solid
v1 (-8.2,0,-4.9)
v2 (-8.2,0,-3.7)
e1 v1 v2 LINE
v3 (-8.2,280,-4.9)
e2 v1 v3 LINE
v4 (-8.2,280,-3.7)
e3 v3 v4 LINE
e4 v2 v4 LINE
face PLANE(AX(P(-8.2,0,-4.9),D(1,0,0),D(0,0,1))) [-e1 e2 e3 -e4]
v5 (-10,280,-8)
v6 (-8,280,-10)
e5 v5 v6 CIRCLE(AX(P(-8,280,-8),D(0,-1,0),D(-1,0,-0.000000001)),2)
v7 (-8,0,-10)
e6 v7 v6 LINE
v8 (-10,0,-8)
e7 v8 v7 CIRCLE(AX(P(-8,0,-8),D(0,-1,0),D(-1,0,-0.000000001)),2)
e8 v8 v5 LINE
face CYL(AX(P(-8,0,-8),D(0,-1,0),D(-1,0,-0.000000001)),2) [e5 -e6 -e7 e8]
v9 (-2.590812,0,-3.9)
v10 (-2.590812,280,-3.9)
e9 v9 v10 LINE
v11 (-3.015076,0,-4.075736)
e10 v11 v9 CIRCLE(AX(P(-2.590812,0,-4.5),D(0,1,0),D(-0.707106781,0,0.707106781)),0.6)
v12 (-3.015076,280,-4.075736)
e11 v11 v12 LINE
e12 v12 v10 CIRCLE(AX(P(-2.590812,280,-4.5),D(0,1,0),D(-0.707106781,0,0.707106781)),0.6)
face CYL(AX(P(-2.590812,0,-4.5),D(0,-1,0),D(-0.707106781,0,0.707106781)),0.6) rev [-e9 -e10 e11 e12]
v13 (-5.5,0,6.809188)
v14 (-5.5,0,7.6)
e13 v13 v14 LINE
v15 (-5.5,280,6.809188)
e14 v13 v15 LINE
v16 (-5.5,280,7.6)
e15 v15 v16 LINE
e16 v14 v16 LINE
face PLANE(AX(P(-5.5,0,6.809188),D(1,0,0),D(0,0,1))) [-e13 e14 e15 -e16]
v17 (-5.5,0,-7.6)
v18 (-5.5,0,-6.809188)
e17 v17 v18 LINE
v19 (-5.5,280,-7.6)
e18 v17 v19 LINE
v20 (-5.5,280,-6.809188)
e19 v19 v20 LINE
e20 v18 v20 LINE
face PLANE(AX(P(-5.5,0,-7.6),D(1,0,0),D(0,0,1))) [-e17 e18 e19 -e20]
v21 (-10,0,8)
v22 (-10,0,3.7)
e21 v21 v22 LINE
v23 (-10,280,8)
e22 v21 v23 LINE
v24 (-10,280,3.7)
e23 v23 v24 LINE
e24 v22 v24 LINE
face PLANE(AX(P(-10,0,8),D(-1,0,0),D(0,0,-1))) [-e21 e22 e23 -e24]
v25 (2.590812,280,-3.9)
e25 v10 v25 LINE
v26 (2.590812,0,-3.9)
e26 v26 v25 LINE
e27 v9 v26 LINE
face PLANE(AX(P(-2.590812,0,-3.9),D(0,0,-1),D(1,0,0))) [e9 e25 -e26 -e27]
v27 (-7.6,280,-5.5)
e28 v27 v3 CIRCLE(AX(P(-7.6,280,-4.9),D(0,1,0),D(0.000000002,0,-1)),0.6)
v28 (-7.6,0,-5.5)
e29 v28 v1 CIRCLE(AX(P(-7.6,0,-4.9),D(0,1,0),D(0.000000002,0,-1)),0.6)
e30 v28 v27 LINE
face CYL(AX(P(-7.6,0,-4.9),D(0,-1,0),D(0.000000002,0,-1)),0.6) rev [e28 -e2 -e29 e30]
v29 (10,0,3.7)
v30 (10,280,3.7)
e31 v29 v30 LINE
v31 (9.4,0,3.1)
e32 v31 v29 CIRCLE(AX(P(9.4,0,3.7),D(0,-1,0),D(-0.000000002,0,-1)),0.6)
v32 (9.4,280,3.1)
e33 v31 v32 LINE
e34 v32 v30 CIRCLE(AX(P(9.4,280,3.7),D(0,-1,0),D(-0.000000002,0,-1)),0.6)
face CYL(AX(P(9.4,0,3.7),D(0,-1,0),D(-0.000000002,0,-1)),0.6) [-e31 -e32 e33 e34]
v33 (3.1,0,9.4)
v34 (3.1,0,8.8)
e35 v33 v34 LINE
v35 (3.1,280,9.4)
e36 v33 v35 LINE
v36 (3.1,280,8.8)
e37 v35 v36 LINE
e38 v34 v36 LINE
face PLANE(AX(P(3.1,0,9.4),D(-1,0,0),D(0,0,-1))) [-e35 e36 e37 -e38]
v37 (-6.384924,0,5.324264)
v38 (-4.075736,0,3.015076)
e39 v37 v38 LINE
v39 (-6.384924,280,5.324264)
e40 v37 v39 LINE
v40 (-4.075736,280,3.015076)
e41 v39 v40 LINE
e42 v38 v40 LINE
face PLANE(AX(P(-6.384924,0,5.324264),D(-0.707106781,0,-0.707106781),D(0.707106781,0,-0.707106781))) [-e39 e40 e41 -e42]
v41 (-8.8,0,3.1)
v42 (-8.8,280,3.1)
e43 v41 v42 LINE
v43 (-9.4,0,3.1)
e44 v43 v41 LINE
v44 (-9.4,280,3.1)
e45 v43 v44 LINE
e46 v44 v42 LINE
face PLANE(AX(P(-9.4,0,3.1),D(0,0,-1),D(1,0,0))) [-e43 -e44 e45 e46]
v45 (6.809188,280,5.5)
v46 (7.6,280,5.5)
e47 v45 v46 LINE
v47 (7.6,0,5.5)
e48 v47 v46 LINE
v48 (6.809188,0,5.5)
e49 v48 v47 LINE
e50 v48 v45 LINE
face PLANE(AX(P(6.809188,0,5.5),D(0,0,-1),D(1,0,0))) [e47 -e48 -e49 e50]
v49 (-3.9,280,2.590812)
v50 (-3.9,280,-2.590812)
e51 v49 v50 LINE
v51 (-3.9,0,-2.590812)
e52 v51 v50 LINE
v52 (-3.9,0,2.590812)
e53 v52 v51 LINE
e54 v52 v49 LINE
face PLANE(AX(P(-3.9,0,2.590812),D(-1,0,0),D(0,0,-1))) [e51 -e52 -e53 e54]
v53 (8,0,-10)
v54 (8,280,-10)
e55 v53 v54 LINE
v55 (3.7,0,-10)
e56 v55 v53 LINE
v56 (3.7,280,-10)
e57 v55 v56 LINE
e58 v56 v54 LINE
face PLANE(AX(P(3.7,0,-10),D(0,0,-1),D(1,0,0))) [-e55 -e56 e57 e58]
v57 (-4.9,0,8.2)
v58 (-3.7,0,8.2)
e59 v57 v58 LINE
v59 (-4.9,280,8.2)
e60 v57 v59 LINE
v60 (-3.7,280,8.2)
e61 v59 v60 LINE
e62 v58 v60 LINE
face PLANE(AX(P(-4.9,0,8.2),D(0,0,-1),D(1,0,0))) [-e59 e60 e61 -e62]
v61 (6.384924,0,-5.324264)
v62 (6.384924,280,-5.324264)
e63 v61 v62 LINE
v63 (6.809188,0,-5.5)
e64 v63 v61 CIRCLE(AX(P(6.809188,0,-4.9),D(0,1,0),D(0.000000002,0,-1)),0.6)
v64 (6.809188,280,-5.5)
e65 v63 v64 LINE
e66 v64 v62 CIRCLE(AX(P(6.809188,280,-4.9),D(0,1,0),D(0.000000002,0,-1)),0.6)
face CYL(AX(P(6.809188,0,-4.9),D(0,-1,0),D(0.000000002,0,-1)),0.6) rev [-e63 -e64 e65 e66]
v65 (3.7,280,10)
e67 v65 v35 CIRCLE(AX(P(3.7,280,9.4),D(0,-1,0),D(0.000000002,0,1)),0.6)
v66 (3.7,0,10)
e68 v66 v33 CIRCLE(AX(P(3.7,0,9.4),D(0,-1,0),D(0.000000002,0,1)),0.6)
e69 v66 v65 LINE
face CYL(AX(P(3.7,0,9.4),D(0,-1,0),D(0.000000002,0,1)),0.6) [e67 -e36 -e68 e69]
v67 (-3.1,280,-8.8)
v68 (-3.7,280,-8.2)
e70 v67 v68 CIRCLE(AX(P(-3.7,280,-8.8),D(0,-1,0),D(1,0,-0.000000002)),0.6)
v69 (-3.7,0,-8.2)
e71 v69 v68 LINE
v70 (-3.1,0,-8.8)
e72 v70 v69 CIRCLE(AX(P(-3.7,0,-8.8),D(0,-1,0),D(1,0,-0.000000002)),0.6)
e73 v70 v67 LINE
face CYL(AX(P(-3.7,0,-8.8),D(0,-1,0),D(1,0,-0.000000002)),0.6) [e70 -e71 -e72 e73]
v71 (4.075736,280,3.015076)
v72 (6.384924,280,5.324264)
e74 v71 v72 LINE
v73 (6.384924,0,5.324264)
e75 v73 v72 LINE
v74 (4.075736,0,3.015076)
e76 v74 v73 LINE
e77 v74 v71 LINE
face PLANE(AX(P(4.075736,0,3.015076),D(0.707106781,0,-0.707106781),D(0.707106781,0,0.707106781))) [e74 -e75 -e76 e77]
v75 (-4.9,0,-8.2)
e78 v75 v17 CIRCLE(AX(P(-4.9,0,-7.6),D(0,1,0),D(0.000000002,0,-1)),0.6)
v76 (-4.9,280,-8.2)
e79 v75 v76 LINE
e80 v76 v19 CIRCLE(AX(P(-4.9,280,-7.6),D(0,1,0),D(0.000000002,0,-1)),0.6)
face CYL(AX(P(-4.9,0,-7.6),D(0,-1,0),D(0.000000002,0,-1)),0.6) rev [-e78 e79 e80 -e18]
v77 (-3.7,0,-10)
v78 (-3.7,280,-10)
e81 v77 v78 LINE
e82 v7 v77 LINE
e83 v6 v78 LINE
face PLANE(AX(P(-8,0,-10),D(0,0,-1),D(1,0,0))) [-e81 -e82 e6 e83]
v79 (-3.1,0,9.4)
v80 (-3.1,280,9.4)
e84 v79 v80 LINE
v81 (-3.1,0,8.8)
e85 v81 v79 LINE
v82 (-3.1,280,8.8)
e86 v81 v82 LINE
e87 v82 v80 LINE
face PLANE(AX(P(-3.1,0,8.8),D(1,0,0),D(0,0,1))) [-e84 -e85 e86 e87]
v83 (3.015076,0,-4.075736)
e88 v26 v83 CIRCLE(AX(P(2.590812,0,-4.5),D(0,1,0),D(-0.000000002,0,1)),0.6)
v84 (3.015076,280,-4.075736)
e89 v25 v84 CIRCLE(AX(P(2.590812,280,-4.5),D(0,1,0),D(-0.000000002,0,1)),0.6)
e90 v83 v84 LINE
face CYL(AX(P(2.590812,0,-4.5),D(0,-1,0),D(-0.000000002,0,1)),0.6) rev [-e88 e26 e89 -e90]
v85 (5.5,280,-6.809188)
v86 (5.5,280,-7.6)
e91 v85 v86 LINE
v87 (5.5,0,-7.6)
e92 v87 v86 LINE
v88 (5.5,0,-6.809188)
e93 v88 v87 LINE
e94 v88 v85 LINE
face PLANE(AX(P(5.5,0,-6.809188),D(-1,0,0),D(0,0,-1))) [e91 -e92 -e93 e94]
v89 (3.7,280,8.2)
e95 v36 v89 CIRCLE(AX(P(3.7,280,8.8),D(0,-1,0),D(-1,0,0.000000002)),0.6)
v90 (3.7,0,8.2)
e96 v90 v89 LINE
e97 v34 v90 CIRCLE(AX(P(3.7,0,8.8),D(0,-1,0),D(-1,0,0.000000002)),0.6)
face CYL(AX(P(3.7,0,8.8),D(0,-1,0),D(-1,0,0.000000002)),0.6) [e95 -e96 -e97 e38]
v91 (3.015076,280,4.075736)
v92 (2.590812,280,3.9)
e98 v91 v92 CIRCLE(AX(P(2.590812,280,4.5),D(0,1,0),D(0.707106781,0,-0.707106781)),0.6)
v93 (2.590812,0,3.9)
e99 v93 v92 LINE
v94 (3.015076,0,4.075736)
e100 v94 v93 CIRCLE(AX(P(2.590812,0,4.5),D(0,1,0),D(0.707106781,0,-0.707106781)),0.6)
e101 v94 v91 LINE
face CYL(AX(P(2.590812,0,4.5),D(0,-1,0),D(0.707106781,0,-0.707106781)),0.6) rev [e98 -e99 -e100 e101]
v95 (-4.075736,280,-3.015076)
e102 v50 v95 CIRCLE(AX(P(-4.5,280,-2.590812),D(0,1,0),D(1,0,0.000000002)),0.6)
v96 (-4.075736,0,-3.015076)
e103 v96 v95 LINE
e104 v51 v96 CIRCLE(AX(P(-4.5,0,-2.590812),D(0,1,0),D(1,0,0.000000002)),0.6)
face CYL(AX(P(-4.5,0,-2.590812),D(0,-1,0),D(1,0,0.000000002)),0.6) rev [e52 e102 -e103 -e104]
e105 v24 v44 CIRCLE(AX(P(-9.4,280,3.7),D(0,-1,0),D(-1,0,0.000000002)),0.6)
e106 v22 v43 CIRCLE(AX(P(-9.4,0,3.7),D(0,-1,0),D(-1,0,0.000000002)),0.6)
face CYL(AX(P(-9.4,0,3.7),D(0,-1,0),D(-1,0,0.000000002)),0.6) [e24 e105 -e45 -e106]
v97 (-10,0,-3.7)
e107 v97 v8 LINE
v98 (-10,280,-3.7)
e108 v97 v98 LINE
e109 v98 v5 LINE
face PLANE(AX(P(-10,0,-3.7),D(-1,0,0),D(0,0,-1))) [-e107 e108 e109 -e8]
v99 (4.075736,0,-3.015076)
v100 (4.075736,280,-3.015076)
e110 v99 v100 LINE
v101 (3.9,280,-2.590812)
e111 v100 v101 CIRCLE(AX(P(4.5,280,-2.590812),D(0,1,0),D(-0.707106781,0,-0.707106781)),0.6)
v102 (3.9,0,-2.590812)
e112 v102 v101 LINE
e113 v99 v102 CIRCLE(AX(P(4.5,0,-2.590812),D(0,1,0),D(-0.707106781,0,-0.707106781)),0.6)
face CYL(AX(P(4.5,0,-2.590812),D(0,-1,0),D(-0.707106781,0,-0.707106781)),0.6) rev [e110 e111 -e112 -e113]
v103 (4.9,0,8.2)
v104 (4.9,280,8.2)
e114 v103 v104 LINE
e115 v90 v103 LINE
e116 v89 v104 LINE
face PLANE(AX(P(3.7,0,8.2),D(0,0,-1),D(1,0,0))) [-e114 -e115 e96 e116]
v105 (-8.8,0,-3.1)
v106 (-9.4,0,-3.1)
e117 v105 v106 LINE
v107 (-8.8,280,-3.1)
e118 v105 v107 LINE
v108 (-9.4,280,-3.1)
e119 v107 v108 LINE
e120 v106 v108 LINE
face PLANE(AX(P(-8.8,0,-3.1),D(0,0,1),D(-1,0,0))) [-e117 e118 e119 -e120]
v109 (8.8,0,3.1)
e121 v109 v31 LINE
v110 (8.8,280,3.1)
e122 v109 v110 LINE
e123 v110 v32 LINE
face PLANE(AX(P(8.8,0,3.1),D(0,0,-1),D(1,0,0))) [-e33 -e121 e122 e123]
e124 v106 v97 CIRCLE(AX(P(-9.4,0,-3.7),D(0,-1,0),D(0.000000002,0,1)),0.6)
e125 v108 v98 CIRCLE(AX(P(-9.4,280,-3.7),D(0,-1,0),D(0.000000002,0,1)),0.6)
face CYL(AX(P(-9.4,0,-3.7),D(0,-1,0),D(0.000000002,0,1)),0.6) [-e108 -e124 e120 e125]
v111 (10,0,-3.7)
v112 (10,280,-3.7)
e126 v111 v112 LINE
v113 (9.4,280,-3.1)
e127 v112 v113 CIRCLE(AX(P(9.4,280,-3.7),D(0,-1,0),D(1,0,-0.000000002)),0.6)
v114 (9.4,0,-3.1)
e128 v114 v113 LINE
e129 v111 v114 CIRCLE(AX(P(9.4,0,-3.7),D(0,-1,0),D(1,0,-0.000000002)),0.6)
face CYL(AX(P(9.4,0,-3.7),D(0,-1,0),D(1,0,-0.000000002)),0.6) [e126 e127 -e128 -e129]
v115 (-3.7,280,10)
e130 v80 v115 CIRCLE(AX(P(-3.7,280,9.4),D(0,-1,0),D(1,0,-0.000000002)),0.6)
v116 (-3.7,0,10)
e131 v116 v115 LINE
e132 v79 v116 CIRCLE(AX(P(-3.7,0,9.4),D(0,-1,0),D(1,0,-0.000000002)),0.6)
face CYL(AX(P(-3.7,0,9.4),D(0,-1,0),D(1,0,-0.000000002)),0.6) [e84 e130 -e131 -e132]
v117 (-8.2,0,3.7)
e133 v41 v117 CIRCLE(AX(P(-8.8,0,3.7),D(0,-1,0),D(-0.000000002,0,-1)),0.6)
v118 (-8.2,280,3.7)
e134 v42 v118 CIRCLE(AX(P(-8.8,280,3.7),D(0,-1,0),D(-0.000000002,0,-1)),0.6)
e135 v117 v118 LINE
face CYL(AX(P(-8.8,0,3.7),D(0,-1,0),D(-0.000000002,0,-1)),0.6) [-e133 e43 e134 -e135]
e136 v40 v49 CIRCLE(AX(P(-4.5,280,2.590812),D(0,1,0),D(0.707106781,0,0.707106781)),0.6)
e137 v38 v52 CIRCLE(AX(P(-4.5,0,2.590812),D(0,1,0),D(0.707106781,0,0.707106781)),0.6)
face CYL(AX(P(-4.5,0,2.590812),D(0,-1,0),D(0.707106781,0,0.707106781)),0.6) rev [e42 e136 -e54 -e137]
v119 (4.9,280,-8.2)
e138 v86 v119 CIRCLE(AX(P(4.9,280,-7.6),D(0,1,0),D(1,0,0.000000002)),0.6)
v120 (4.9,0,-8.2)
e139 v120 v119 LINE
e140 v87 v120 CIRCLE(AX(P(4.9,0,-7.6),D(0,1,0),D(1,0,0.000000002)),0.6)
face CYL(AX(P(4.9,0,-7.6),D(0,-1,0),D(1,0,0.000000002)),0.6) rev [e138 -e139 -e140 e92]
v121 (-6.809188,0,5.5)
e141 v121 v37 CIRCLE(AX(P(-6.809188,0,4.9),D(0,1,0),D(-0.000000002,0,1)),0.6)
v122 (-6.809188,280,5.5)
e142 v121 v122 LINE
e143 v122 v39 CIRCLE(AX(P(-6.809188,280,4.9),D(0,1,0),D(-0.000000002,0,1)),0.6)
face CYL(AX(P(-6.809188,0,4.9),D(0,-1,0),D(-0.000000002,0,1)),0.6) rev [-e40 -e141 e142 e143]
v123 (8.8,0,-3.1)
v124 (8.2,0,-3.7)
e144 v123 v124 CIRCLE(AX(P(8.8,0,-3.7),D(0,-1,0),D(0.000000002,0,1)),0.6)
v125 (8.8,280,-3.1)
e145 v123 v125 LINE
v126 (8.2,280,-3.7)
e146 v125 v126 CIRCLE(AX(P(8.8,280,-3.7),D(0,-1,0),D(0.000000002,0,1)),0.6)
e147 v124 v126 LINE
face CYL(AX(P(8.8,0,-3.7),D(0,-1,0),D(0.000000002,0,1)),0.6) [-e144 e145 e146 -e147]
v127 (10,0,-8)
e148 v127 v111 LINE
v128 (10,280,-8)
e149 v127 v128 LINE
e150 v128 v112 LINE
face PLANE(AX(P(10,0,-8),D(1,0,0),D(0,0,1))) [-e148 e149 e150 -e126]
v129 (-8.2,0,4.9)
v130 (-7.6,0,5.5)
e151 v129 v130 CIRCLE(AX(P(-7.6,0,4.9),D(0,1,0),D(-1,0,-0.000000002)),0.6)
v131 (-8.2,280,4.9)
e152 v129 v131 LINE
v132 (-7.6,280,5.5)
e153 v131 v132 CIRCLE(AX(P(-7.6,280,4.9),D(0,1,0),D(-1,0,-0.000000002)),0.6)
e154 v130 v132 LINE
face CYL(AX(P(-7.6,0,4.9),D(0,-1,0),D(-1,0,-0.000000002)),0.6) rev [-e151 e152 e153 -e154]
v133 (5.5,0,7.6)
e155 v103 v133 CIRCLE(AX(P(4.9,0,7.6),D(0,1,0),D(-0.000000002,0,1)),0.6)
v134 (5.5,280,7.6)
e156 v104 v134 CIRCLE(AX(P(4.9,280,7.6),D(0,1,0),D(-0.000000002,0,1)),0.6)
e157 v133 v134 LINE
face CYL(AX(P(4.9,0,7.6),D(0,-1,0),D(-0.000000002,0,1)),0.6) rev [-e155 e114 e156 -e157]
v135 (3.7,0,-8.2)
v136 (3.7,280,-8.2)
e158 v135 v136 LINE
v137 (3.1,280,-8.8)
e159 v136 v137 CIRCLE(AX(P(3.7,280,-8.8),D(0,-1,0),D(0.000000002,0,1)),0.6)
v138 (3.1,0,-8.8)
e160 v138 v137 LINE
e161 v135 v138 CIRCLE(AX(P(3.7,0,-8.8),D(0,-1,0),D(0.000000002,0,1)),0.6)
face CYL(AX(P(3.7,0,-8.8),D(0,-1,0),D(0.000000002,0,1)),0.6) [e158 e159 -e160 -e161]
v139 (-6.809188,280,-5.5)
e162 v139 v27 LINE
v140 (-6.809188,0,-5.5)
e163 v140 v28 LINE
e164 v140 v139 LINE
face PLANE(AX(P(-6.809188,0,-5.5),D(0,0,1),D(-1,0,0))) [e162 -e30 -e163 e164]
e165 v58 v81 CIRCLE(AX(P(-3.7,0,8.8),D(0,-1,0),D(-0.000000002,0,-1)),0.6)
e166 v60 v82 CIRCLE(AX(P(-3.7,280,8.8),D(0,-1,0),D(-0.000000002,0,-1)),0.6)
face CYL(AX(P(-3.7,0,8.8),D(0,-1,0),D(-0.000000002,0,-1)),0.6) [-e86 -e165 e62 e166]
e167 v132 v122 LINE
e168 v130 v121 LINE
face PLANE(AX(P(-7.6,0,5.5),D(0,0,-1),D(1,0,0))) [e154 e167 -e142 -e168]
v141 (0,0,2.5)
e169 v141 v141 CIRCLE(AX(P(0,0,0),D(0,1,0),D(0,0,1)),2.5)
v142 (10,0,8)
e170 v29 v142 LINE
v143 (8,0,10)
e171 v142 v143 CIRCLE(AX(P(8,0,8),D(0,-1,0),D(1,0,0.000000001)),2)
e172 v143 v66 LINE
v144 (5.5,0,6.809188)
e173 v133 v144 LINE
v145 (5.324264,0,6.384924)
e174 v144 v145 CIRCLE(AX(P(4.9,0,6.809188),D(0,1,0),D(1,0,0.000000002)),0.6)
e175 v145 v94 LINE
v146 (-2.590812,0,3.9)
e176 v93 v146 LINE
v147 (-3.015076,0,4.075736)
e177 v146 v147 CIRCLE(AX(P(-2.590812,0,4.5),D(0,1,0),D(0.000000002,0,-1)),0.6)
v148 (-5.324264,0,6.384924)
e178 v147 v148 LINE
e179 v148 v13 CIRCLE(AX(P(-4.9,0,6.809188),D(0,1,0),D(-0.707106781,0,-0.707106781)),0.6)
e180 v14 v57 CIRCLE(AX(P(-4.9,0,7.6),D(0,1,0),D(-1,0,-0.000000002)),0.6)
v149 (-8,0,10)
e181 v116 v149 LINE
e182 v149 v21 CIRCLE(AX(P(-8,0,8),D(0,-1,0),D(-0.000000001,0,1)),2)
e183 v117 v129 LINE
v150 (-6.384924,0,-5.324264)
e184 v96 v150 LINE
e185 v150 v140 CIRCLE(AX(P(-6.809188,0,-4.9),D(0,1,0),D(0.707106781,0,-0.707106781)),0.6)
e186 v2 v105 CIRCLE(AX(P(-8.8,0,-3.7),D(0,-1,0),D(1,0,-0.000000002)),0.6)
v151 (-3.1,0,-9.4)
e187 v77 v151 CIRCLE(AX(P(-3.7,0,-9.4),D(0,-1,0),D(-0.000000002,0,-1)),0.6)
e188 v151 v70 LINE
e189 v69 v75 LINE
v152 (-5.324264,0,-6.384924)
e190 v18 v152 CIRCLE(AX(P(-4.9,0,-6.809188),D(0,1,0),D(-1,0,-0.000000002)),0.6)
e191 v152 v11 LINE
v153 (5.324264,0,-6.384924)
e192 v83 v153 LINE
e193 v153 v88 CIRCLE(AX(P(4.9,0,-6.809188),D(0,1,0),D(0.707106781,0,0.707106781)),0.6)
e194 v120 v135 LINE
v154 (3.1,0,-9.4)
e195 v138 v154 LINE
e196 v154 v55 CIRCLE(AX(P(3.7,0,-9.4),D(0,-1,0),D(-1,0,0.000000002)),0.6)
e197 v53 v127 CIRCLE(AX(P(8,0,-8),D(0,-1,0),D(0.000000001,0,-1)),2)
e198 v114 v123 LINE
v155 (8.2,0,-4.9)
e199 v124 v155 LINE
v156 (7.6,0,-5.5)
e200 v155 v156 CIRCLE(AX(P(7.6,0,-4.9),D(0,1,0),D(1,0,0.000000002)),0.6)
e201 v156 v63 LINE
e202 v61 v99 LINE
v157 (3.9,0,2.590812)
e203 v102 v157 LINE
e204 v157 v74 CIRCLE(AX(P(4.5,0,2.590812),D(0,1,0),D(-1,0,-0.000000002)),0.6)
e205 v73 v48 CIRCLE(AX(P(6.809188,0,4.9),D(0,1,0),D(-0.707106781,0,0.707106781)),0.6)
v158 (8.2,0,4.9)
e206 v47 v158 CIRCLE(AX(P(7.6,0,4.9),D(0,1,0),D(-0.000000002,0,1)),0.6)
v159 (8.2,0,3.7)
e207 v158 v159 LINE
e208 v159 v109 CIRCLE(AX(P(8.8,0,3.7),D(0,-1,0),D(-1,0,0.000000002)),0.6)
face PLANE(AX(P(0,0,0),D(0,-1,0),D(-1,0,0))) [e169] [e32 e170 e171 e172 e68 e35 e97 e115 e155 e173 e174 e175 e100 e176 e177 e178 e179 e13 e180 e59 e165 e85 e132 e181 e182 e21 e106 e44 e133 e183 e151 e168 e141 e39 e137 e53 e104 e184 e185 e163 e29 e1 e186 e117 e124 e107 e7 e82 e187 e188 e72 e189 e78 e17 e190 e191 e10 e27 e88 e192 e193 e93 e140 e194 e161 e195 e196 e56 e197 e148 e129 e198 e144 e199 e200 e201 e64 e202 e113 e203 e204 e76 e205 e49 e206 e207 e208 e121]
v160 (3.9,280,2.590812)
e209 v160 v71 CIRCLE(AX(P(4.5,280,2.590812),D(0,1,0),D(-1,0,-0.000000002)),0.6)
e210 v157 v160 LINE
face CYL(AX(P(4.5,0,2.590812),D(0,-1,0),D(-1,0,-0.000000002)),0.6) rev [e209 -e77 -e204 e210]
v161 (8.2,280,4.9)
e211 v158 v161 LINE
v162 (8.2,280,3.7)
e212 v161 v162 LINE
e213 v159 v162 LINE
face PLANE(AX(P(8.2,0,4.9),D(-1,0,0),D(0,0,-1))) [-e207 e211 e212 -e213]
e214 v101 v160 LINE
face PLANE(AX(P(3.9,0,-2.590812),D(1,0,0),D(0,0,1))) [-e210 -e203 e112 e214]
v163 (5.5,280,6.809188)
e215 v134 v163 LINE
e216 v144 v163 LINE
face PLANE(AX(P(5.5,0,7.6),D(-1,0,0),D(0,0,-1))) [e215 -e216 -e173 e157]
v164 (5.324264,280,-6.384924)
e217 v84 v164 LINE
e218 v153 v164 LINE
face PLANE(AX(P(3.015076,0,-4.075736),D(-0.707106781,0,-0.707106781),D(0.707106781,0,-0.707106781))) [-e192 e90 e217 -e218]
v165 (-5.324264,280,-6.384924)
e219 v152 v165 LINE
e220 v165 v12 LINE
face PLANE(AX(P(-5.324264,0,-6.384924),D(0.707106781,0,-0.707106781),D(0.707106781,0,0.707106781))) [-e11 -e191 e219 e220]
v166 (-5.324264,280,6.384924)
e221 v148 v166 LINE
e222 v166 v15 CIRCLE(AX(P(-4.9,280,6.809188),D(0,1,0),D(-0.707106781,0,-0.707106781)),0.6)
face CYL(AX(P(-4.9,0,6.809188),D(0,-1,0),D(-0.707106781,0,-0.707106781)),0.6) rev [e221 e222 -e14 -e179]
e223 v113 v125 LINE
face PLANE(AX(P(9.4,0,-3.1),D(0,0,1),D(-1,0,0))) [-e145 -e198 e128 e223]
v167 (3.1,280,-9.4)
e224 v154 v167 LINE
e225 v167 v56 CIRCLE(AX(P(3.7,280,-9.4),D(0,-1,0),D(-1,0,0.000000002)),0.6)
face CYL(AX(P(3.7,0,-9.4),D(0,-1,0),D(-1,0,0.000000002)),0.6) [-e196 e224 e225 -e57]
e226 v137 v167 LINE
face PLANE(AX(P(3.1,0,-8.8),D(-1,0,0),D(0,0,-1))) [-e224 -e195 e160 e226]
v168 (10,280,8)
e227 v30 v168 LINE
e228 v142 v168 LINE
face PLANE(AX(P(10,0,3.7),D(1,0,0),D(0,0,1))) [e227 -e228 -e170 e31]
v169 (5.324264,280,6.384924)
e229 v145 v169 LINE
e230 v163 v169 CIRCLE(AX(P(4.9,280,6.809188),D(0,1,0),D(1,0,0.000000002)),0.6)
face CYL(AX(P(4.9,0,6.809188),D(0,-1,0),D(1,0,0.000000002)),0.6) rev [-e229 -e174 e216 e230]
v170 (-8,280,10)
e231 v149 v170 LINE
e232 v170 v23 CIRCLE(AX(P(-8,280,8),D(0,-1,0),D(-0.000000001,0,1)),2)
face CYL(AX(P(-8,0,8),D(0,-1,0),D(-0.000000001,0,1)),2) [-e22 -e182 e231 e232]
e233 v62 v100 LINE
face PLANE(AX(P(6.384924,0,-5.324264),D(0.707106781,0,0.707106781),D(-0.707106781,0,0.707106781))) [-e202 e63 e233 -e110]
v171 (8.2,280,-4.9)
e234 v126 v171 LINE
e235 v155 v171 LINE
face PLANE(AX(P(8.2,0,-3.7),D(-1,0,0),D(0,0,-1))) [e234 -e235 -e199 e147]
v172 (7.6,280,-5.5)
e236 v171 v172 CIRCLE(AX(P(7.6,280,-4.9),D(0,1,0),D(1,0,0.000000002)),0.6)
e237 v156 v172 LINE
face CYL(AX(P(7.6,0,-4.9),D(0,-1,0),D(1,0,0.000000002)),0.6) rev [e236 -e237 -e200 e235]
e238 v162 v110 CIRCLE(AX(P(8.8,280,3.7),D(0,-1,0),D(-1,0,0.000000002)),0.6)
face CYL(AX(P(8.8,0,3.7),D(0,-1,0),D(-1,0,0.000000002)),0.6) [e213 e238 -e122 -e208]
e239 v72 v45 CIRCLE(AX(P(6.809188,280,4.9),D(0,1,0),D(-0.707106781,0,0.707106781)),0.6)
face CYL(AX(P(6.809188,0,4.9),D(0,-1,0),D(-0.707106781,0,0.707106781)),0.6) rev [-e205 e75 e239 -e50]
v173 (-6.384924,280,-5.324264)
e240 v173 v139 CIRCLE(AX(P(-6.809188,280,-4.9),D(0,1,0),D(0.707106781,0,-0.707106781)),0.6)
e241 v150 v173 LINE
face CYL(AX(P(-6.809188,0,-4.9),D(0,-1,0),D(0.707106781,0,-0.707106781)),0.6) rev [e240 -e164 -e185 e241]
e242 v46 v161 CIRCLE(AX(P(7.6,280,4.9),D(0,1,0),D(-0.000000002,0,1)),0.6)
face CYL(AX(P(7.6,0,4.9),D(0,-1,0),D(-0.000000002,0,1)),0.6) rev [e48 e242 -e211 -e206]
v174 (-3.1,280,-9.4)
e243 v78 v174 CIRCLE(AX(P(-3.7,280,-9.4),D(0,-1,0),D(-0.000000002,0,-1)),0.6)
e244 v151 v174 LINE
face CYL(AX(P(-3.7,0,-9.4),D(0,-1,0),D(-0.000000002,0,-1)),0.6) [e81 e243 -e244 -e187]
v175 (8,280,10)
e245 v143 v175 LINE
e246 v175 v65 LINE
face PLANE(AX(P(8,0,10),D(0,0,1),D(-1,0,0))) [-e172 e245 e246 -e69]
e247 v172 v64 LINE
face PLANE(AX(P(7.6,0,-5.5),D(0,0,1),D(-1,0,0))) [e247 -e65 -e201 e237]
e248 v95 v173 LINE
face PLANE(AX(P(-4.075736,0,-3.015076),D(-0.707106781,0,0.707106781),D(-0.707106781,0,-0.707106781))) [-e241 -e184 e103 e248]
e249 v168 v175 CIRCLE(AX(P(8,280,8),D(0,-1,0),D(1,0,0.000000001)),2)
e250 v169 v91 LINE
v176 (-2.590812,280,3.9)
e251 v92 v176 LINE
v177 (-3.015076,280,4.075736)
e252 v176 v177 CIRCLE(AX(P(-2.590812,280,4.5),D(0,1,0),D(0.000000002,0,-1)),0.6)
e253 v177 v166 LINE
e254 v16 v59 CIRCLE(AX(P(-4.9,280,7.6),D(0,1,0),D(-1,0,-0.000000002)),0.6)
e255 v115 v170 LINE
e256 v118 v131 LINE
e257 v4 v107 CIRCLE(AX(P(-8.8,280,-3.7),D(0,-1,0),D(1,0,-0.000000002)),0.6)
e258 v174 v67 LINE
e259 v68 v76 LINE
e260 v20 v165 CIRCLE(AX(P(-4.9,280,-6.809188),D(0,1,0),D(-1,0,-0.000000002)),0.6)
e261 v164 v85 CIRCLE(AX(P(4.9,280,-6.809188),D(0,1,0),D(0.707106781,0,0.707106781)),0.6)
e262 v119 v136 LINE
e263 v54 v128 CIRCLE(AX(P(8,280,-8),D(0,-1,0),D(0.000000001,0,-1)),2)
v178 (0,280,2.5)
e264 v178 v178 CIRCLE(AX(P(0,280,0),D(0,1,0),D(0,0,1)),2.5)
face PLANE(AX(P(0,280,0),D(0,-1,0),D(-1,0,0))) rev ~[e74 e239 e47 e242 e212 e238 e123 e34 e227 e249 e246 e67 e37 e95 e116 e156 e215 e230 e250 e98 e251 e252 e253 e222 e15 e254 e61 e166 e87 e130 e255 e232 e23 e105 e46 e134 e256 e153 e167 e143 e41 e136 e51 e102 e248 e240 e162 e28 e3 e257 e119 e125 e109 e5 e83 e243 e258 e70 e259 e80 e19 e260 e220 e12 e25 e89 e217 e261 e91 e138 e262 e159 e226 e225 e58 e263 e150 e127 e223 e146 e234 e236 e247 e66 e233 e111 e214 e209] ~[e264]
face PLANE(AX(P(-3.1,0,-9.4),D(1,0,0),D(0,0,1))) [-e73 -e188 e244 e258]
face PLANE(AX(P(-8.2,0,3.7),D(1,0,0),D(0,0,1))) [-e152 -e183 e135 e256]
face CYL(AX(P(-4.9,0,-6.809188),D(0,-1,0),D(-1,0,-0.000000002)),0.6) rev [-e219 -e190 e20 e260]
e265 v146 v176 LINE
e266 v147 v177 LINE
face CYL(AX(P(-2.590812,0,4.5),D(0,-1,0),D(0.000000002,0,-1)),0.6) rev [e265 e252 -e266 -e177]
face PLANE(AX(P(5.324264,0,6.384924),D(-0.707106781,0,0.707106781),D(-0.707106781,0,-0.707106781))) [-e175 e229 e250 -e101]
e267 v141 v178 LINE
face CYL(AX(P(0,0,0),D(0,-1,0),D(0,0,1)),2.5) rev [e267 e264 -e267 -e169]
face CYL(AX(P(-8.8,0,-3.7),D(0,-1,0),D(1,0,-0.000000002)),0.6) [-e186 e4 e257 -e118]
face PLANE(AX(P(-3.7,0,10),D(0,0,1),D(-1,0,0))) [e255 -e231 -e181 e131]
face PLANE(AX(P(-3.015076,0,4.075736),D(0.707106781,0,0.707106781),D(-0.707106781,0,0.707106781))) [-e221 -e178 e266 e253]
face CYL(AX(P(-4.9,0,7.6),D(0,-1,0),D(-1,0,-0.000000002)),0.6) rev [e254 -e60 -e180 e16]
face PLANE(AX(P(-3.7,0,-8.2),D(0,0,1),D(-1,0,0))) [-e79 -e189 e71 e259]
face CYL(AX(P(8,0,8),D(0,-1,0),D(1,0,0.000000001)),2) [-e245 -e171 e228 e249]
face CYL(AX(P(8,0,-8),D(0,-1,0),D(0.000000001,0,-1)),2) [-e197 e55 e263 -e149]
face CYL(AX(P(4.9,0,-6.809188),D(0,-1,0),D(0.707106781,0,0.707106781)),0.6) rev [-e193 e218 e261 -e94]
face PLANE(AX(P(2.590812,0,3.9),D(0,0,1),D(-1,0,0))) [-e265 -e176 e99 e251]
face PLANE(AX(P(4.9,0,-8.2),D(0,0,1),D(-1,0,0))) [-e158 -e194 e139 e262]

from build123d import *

# Parameters (mm, degrees)
SKETCH_1_R      = 2.5
EXTRUDE_1_DEPTH = 280


with BuildPart() as part:
    # 草图1 → 凸台-拉伸1 (new body)
    with BuildSketch(Plane(origin=(0, 0, 0), x_dir=(1, 0, 0), z_dir=(0, 1, 0))):
        with BuildLine():
            Line((3.1, 8.8), (3.1, 9.4))
            ThreePointArc((3.1, 9.4), (3.275735931, 9.824264069), (3.7, 10))
            Line((3.7, 10), (8, 10))
            ThreePointArc((8, 10), (9.414213562, 9.414213562), (10, 8))
            Line((10, 8), (10, 3.7))
            ThreePointArc((10, 3.7), (9.824264069, 3.275735931), (9.4, 3.1))
            Line((9.4, 3.1), (8.8, 3.1))
            ThreePointArc((8.8, 3.1), (8.375735931, 3.275735931), (8.2, 3.7))
            Line((8.2, 3.7), (8.2, 4.9))
            ThreePointArc((8.2, 4.9), (8.024264069, 5.324264069), (7.6, 5.5))
            Line((7.6, 5.5), (6.809188309, 5.5))
            ThreePointArc((6.809188309, 5.5), (6.57957825, 5.45432772), (6.38492424, 5.324264069))
            Line((6.38492424, 5.324264069), (4.075735931, 3.01507576))
            ThreePointArc((4.075735931, 3.01507576), (3.94567228, 2.82042175), (3.9, 2.590811691))
            Line((3.9, 2.590811691), (3.9, 0))
            Line((3.9, 0), (3.9, -2.590811691))
            ThreePointArc((3.9, -2.590811691), (3.94567228, -2.82042175), (4.075735931, -3.01507576))
            Line((4.075735931, -3.01507576), (6.38492424, -5.324264069))
            ThreePointArc((6.38492424, -5.324264069), (6.57957825, -5.45432772), (6.809188309, -5.5))
            Line((6.809188309, -5.5), (7.6, -5.5))
            ThreePointArc((7.6, -5.5), (8.024264069, -5.324264069), (8.2, -4.9))
            Line((8.2, -4.9), (8.2, -3.7))
            ThreePointArc((8.2, -3.7), (8.375735931, -3.275735931), (8.8, -3.1))
            Line((8.8, -3.1), (9.4, -3.1))
            ThreePointArc((9.4, -3.1), (9.824264069, -3.275735931), (10, -3.7))
            Line((10, -3.7), (10, -8))
            ThreePointArc((10, -8), (9.414213562, -9.414213562), (8, -10))
            Line((8, -10), (3.7, -10))
            ThreePointArc((3.7, -10), (3.275735931, -9.824264069), (3.1, -9.4))
            Line((3.1, -9.4), (3.1, -8.8))
            ThreePointArc((3.1, -8.8), (3.275735931, -8.375735931), (3.7, -8.2))
            Line((3.7, -8.2), (4.9, -8.2))
            ThreePointArc((4.9, -8.2), (5.324264069, -8.024264069), (5.5, -7.6))
            Line((5.5, -7.6), (5.5, -6.809188309))
            ThreePointArc((5.5, -6.809188309), (5.45432772, -6.57957825), (5.324264069, -6.38492424))
            Line((5.324264069, -6.38492424), (3.01507576, -4.075735931))
            ThreePointArc((3.01507576, -4.075735931), (2.82042175, -3.94567228), (2.590811691, -3.9))
            Line((2.590811691, -3.9), (0, -3.9))
            Line((0, -3.9), (-2.590811691, -3.9))
            ThreePointArc((-2.590811691, -3.9), (-2.82042175, -3.94567228), (-3.01507576, -4.075735931))
            Line((-3.01507576, -4.075735931), (-5.324264069, -6.38492424))
            ThreePointArc((-5.324264069, -6.38492424), (-5.45432772, -6.57957825), (-5.5, -6.809188309))
            Line((-5.5, -6.809188309), (-5.5, -7.6))
            ThreePointArc((-5.5, -7.6), (-5.324264069, -8.024264069), (-4.9, -8.2))
            Line((-4.9, -8.2), (-3.7, -8.2))
            ThreePointArc((-3.7, -8.2), (-3.275735931, -8.375735931), (-3.1, -8.8))
            Line((-3.1, -8.8), (-3.1, -9.4))
            ThreePointArc((-3.1, -9.4), (-3.275735931, -9.824264069), (-3.7, -10))
            Line((-3.7, -10), (-8, -10))
            ThreePointArc((-8, -10), (-9.414213562, -9.414213562), (-10, -8))
            Line((-10, -8), (-10, -3.7))
            ThreePointArc((-10, -3.7), (-9.824264069, -3.275735931), (-9.4, -3.1))
            Line((-9.4, -3.1), (-8.8, -3.1))
            ThreePointArc((-8.8, -3.1), (-8.375735931, -3.275735931), (-8.2, -3.7))
            Line((-8.2, -3.7), (-8.2, -4.9))
            ThreePointArc((-8.2, -4.9), (-8.024264069, -5.324264069), (-7.6, -5.5))
            Line((-7.6, -5.5), (-6.809188309, -5.5))
            ThreePointArc((-6.809188309, -5.5), (-6.57957825, -5.45432772), (-6.38492424, -5.324264069))
            Line((-6.38492424, -5.324264069), (-4.075735931, -3.01507576))
            ThreePointArc((-4.075735931, -3.01507576), (-3.94567228, -2.82042175), (-3.9, -2.590811691))
            Line((-3.9, -2.590811691), (-3.9, 0))
            Line((-3.9, 0), (-3.9, 2.590811691))
            ThreePointArc((-3.9, 2.590811691), (-3.94567228, 2.82042175), (-4.075735931, 3.01507576))
            Line((-4.075735931, 3.01507576), (-6.38492424, 5.324264069))
            ThreePointArc((-6.38492424, 5.324264069), (-6.57957825, 5.45432772), (-6.809188309, 5.5))
            Line((-6.809188309, 5.5), (-7.6, 5.5))
            ThreePointArc((-7.6, 5.5), (-8.024264069, 5.324264069), (-8.2, 4.9))
            Line((-8.2, 4.9), (-8.2, 3.7))
            ThreePointArc((-8.2, 3.7), (-8.375735931, 3.275735931), (-8.8, 3.1))
            Line((-8.8, 3.1), (-9.4, 3.1))
            ThreePointArc((-9.4, 3.1), (-9.824264069, 3.275735931), (-10, 3.7))
            Line((-10, 3.7), (-10, 8))
            ThreePointArc((-10, 8), (-9.414213562, 9.414213562), (-8, 10))
            Line((-8, 10), (-3.7, 10))
            ThreePointArc((-3.7, 10), (-3.275735931, 9.824264069), (-3.1, 9.4))
            Line((-3.1, 9.4), (-3.1, 8.8))
            ThreePointArc((-3.1, 8.8), (-3.275735931, 8.375735931), (-3.7, 8.2))
            Line((-3.7, 8.2), (-4.9, 8.2))
            ThreePointArc((-4.9, 8.2), (-5.324264069, 8.024264069), (-5.5, 7.6))
            Line((-5.5, 7.6), (-5.5, 6.809188309))
            ThreePointArc((-5.5, 6.809188309), (-5.45432772, 6.57957825), (-5.324264069, 6.38492424))
            Line((-5.324264069, 6.38492424), (-3.01507576, 4.075735931))
            ThreePointArc((-3.01507576, 4.075735931), (-2.82042175, 3.94567228), (-2.590811691, 3.9))
            Line((-2.590811691, 3.9), (0, 3.9))
            Line((0, 3.9), (2.590811691, 3.9))
            ThreePointArc((2.590811691, 3.9), (2.82042175, 3.94567228), (3.01507576, 4.075735931))
            Line((3.01507576, 4.075735931), (5.324264069, 6.38492424))
            ThreePointArc((5.324264069, 6.38492424), (5.45432772, 6.57957825), (5.5, 6.809188309))
            Line((5.5, 6.809188309), (5.5, 7.6))
            ThreePointArc((5.5, 7.6), (5.324264069, 8.024264069), (4.9, 8.2))
            Line((4.9, 8.2), (3.7, 8.2))
            ThreePointArc((3.7, 8.2), (3.275735931, 8.375735931), (3.1, 8.8))
        make_face()
        with Locations(Location((0, 0, 0), (0, 0, 270))):
            Circle(SKETCH_1_R, mode=Mode.SUBTRACT)
    extrude(amount=EXTRUDE_1_DEPTH)


solid = part.part
